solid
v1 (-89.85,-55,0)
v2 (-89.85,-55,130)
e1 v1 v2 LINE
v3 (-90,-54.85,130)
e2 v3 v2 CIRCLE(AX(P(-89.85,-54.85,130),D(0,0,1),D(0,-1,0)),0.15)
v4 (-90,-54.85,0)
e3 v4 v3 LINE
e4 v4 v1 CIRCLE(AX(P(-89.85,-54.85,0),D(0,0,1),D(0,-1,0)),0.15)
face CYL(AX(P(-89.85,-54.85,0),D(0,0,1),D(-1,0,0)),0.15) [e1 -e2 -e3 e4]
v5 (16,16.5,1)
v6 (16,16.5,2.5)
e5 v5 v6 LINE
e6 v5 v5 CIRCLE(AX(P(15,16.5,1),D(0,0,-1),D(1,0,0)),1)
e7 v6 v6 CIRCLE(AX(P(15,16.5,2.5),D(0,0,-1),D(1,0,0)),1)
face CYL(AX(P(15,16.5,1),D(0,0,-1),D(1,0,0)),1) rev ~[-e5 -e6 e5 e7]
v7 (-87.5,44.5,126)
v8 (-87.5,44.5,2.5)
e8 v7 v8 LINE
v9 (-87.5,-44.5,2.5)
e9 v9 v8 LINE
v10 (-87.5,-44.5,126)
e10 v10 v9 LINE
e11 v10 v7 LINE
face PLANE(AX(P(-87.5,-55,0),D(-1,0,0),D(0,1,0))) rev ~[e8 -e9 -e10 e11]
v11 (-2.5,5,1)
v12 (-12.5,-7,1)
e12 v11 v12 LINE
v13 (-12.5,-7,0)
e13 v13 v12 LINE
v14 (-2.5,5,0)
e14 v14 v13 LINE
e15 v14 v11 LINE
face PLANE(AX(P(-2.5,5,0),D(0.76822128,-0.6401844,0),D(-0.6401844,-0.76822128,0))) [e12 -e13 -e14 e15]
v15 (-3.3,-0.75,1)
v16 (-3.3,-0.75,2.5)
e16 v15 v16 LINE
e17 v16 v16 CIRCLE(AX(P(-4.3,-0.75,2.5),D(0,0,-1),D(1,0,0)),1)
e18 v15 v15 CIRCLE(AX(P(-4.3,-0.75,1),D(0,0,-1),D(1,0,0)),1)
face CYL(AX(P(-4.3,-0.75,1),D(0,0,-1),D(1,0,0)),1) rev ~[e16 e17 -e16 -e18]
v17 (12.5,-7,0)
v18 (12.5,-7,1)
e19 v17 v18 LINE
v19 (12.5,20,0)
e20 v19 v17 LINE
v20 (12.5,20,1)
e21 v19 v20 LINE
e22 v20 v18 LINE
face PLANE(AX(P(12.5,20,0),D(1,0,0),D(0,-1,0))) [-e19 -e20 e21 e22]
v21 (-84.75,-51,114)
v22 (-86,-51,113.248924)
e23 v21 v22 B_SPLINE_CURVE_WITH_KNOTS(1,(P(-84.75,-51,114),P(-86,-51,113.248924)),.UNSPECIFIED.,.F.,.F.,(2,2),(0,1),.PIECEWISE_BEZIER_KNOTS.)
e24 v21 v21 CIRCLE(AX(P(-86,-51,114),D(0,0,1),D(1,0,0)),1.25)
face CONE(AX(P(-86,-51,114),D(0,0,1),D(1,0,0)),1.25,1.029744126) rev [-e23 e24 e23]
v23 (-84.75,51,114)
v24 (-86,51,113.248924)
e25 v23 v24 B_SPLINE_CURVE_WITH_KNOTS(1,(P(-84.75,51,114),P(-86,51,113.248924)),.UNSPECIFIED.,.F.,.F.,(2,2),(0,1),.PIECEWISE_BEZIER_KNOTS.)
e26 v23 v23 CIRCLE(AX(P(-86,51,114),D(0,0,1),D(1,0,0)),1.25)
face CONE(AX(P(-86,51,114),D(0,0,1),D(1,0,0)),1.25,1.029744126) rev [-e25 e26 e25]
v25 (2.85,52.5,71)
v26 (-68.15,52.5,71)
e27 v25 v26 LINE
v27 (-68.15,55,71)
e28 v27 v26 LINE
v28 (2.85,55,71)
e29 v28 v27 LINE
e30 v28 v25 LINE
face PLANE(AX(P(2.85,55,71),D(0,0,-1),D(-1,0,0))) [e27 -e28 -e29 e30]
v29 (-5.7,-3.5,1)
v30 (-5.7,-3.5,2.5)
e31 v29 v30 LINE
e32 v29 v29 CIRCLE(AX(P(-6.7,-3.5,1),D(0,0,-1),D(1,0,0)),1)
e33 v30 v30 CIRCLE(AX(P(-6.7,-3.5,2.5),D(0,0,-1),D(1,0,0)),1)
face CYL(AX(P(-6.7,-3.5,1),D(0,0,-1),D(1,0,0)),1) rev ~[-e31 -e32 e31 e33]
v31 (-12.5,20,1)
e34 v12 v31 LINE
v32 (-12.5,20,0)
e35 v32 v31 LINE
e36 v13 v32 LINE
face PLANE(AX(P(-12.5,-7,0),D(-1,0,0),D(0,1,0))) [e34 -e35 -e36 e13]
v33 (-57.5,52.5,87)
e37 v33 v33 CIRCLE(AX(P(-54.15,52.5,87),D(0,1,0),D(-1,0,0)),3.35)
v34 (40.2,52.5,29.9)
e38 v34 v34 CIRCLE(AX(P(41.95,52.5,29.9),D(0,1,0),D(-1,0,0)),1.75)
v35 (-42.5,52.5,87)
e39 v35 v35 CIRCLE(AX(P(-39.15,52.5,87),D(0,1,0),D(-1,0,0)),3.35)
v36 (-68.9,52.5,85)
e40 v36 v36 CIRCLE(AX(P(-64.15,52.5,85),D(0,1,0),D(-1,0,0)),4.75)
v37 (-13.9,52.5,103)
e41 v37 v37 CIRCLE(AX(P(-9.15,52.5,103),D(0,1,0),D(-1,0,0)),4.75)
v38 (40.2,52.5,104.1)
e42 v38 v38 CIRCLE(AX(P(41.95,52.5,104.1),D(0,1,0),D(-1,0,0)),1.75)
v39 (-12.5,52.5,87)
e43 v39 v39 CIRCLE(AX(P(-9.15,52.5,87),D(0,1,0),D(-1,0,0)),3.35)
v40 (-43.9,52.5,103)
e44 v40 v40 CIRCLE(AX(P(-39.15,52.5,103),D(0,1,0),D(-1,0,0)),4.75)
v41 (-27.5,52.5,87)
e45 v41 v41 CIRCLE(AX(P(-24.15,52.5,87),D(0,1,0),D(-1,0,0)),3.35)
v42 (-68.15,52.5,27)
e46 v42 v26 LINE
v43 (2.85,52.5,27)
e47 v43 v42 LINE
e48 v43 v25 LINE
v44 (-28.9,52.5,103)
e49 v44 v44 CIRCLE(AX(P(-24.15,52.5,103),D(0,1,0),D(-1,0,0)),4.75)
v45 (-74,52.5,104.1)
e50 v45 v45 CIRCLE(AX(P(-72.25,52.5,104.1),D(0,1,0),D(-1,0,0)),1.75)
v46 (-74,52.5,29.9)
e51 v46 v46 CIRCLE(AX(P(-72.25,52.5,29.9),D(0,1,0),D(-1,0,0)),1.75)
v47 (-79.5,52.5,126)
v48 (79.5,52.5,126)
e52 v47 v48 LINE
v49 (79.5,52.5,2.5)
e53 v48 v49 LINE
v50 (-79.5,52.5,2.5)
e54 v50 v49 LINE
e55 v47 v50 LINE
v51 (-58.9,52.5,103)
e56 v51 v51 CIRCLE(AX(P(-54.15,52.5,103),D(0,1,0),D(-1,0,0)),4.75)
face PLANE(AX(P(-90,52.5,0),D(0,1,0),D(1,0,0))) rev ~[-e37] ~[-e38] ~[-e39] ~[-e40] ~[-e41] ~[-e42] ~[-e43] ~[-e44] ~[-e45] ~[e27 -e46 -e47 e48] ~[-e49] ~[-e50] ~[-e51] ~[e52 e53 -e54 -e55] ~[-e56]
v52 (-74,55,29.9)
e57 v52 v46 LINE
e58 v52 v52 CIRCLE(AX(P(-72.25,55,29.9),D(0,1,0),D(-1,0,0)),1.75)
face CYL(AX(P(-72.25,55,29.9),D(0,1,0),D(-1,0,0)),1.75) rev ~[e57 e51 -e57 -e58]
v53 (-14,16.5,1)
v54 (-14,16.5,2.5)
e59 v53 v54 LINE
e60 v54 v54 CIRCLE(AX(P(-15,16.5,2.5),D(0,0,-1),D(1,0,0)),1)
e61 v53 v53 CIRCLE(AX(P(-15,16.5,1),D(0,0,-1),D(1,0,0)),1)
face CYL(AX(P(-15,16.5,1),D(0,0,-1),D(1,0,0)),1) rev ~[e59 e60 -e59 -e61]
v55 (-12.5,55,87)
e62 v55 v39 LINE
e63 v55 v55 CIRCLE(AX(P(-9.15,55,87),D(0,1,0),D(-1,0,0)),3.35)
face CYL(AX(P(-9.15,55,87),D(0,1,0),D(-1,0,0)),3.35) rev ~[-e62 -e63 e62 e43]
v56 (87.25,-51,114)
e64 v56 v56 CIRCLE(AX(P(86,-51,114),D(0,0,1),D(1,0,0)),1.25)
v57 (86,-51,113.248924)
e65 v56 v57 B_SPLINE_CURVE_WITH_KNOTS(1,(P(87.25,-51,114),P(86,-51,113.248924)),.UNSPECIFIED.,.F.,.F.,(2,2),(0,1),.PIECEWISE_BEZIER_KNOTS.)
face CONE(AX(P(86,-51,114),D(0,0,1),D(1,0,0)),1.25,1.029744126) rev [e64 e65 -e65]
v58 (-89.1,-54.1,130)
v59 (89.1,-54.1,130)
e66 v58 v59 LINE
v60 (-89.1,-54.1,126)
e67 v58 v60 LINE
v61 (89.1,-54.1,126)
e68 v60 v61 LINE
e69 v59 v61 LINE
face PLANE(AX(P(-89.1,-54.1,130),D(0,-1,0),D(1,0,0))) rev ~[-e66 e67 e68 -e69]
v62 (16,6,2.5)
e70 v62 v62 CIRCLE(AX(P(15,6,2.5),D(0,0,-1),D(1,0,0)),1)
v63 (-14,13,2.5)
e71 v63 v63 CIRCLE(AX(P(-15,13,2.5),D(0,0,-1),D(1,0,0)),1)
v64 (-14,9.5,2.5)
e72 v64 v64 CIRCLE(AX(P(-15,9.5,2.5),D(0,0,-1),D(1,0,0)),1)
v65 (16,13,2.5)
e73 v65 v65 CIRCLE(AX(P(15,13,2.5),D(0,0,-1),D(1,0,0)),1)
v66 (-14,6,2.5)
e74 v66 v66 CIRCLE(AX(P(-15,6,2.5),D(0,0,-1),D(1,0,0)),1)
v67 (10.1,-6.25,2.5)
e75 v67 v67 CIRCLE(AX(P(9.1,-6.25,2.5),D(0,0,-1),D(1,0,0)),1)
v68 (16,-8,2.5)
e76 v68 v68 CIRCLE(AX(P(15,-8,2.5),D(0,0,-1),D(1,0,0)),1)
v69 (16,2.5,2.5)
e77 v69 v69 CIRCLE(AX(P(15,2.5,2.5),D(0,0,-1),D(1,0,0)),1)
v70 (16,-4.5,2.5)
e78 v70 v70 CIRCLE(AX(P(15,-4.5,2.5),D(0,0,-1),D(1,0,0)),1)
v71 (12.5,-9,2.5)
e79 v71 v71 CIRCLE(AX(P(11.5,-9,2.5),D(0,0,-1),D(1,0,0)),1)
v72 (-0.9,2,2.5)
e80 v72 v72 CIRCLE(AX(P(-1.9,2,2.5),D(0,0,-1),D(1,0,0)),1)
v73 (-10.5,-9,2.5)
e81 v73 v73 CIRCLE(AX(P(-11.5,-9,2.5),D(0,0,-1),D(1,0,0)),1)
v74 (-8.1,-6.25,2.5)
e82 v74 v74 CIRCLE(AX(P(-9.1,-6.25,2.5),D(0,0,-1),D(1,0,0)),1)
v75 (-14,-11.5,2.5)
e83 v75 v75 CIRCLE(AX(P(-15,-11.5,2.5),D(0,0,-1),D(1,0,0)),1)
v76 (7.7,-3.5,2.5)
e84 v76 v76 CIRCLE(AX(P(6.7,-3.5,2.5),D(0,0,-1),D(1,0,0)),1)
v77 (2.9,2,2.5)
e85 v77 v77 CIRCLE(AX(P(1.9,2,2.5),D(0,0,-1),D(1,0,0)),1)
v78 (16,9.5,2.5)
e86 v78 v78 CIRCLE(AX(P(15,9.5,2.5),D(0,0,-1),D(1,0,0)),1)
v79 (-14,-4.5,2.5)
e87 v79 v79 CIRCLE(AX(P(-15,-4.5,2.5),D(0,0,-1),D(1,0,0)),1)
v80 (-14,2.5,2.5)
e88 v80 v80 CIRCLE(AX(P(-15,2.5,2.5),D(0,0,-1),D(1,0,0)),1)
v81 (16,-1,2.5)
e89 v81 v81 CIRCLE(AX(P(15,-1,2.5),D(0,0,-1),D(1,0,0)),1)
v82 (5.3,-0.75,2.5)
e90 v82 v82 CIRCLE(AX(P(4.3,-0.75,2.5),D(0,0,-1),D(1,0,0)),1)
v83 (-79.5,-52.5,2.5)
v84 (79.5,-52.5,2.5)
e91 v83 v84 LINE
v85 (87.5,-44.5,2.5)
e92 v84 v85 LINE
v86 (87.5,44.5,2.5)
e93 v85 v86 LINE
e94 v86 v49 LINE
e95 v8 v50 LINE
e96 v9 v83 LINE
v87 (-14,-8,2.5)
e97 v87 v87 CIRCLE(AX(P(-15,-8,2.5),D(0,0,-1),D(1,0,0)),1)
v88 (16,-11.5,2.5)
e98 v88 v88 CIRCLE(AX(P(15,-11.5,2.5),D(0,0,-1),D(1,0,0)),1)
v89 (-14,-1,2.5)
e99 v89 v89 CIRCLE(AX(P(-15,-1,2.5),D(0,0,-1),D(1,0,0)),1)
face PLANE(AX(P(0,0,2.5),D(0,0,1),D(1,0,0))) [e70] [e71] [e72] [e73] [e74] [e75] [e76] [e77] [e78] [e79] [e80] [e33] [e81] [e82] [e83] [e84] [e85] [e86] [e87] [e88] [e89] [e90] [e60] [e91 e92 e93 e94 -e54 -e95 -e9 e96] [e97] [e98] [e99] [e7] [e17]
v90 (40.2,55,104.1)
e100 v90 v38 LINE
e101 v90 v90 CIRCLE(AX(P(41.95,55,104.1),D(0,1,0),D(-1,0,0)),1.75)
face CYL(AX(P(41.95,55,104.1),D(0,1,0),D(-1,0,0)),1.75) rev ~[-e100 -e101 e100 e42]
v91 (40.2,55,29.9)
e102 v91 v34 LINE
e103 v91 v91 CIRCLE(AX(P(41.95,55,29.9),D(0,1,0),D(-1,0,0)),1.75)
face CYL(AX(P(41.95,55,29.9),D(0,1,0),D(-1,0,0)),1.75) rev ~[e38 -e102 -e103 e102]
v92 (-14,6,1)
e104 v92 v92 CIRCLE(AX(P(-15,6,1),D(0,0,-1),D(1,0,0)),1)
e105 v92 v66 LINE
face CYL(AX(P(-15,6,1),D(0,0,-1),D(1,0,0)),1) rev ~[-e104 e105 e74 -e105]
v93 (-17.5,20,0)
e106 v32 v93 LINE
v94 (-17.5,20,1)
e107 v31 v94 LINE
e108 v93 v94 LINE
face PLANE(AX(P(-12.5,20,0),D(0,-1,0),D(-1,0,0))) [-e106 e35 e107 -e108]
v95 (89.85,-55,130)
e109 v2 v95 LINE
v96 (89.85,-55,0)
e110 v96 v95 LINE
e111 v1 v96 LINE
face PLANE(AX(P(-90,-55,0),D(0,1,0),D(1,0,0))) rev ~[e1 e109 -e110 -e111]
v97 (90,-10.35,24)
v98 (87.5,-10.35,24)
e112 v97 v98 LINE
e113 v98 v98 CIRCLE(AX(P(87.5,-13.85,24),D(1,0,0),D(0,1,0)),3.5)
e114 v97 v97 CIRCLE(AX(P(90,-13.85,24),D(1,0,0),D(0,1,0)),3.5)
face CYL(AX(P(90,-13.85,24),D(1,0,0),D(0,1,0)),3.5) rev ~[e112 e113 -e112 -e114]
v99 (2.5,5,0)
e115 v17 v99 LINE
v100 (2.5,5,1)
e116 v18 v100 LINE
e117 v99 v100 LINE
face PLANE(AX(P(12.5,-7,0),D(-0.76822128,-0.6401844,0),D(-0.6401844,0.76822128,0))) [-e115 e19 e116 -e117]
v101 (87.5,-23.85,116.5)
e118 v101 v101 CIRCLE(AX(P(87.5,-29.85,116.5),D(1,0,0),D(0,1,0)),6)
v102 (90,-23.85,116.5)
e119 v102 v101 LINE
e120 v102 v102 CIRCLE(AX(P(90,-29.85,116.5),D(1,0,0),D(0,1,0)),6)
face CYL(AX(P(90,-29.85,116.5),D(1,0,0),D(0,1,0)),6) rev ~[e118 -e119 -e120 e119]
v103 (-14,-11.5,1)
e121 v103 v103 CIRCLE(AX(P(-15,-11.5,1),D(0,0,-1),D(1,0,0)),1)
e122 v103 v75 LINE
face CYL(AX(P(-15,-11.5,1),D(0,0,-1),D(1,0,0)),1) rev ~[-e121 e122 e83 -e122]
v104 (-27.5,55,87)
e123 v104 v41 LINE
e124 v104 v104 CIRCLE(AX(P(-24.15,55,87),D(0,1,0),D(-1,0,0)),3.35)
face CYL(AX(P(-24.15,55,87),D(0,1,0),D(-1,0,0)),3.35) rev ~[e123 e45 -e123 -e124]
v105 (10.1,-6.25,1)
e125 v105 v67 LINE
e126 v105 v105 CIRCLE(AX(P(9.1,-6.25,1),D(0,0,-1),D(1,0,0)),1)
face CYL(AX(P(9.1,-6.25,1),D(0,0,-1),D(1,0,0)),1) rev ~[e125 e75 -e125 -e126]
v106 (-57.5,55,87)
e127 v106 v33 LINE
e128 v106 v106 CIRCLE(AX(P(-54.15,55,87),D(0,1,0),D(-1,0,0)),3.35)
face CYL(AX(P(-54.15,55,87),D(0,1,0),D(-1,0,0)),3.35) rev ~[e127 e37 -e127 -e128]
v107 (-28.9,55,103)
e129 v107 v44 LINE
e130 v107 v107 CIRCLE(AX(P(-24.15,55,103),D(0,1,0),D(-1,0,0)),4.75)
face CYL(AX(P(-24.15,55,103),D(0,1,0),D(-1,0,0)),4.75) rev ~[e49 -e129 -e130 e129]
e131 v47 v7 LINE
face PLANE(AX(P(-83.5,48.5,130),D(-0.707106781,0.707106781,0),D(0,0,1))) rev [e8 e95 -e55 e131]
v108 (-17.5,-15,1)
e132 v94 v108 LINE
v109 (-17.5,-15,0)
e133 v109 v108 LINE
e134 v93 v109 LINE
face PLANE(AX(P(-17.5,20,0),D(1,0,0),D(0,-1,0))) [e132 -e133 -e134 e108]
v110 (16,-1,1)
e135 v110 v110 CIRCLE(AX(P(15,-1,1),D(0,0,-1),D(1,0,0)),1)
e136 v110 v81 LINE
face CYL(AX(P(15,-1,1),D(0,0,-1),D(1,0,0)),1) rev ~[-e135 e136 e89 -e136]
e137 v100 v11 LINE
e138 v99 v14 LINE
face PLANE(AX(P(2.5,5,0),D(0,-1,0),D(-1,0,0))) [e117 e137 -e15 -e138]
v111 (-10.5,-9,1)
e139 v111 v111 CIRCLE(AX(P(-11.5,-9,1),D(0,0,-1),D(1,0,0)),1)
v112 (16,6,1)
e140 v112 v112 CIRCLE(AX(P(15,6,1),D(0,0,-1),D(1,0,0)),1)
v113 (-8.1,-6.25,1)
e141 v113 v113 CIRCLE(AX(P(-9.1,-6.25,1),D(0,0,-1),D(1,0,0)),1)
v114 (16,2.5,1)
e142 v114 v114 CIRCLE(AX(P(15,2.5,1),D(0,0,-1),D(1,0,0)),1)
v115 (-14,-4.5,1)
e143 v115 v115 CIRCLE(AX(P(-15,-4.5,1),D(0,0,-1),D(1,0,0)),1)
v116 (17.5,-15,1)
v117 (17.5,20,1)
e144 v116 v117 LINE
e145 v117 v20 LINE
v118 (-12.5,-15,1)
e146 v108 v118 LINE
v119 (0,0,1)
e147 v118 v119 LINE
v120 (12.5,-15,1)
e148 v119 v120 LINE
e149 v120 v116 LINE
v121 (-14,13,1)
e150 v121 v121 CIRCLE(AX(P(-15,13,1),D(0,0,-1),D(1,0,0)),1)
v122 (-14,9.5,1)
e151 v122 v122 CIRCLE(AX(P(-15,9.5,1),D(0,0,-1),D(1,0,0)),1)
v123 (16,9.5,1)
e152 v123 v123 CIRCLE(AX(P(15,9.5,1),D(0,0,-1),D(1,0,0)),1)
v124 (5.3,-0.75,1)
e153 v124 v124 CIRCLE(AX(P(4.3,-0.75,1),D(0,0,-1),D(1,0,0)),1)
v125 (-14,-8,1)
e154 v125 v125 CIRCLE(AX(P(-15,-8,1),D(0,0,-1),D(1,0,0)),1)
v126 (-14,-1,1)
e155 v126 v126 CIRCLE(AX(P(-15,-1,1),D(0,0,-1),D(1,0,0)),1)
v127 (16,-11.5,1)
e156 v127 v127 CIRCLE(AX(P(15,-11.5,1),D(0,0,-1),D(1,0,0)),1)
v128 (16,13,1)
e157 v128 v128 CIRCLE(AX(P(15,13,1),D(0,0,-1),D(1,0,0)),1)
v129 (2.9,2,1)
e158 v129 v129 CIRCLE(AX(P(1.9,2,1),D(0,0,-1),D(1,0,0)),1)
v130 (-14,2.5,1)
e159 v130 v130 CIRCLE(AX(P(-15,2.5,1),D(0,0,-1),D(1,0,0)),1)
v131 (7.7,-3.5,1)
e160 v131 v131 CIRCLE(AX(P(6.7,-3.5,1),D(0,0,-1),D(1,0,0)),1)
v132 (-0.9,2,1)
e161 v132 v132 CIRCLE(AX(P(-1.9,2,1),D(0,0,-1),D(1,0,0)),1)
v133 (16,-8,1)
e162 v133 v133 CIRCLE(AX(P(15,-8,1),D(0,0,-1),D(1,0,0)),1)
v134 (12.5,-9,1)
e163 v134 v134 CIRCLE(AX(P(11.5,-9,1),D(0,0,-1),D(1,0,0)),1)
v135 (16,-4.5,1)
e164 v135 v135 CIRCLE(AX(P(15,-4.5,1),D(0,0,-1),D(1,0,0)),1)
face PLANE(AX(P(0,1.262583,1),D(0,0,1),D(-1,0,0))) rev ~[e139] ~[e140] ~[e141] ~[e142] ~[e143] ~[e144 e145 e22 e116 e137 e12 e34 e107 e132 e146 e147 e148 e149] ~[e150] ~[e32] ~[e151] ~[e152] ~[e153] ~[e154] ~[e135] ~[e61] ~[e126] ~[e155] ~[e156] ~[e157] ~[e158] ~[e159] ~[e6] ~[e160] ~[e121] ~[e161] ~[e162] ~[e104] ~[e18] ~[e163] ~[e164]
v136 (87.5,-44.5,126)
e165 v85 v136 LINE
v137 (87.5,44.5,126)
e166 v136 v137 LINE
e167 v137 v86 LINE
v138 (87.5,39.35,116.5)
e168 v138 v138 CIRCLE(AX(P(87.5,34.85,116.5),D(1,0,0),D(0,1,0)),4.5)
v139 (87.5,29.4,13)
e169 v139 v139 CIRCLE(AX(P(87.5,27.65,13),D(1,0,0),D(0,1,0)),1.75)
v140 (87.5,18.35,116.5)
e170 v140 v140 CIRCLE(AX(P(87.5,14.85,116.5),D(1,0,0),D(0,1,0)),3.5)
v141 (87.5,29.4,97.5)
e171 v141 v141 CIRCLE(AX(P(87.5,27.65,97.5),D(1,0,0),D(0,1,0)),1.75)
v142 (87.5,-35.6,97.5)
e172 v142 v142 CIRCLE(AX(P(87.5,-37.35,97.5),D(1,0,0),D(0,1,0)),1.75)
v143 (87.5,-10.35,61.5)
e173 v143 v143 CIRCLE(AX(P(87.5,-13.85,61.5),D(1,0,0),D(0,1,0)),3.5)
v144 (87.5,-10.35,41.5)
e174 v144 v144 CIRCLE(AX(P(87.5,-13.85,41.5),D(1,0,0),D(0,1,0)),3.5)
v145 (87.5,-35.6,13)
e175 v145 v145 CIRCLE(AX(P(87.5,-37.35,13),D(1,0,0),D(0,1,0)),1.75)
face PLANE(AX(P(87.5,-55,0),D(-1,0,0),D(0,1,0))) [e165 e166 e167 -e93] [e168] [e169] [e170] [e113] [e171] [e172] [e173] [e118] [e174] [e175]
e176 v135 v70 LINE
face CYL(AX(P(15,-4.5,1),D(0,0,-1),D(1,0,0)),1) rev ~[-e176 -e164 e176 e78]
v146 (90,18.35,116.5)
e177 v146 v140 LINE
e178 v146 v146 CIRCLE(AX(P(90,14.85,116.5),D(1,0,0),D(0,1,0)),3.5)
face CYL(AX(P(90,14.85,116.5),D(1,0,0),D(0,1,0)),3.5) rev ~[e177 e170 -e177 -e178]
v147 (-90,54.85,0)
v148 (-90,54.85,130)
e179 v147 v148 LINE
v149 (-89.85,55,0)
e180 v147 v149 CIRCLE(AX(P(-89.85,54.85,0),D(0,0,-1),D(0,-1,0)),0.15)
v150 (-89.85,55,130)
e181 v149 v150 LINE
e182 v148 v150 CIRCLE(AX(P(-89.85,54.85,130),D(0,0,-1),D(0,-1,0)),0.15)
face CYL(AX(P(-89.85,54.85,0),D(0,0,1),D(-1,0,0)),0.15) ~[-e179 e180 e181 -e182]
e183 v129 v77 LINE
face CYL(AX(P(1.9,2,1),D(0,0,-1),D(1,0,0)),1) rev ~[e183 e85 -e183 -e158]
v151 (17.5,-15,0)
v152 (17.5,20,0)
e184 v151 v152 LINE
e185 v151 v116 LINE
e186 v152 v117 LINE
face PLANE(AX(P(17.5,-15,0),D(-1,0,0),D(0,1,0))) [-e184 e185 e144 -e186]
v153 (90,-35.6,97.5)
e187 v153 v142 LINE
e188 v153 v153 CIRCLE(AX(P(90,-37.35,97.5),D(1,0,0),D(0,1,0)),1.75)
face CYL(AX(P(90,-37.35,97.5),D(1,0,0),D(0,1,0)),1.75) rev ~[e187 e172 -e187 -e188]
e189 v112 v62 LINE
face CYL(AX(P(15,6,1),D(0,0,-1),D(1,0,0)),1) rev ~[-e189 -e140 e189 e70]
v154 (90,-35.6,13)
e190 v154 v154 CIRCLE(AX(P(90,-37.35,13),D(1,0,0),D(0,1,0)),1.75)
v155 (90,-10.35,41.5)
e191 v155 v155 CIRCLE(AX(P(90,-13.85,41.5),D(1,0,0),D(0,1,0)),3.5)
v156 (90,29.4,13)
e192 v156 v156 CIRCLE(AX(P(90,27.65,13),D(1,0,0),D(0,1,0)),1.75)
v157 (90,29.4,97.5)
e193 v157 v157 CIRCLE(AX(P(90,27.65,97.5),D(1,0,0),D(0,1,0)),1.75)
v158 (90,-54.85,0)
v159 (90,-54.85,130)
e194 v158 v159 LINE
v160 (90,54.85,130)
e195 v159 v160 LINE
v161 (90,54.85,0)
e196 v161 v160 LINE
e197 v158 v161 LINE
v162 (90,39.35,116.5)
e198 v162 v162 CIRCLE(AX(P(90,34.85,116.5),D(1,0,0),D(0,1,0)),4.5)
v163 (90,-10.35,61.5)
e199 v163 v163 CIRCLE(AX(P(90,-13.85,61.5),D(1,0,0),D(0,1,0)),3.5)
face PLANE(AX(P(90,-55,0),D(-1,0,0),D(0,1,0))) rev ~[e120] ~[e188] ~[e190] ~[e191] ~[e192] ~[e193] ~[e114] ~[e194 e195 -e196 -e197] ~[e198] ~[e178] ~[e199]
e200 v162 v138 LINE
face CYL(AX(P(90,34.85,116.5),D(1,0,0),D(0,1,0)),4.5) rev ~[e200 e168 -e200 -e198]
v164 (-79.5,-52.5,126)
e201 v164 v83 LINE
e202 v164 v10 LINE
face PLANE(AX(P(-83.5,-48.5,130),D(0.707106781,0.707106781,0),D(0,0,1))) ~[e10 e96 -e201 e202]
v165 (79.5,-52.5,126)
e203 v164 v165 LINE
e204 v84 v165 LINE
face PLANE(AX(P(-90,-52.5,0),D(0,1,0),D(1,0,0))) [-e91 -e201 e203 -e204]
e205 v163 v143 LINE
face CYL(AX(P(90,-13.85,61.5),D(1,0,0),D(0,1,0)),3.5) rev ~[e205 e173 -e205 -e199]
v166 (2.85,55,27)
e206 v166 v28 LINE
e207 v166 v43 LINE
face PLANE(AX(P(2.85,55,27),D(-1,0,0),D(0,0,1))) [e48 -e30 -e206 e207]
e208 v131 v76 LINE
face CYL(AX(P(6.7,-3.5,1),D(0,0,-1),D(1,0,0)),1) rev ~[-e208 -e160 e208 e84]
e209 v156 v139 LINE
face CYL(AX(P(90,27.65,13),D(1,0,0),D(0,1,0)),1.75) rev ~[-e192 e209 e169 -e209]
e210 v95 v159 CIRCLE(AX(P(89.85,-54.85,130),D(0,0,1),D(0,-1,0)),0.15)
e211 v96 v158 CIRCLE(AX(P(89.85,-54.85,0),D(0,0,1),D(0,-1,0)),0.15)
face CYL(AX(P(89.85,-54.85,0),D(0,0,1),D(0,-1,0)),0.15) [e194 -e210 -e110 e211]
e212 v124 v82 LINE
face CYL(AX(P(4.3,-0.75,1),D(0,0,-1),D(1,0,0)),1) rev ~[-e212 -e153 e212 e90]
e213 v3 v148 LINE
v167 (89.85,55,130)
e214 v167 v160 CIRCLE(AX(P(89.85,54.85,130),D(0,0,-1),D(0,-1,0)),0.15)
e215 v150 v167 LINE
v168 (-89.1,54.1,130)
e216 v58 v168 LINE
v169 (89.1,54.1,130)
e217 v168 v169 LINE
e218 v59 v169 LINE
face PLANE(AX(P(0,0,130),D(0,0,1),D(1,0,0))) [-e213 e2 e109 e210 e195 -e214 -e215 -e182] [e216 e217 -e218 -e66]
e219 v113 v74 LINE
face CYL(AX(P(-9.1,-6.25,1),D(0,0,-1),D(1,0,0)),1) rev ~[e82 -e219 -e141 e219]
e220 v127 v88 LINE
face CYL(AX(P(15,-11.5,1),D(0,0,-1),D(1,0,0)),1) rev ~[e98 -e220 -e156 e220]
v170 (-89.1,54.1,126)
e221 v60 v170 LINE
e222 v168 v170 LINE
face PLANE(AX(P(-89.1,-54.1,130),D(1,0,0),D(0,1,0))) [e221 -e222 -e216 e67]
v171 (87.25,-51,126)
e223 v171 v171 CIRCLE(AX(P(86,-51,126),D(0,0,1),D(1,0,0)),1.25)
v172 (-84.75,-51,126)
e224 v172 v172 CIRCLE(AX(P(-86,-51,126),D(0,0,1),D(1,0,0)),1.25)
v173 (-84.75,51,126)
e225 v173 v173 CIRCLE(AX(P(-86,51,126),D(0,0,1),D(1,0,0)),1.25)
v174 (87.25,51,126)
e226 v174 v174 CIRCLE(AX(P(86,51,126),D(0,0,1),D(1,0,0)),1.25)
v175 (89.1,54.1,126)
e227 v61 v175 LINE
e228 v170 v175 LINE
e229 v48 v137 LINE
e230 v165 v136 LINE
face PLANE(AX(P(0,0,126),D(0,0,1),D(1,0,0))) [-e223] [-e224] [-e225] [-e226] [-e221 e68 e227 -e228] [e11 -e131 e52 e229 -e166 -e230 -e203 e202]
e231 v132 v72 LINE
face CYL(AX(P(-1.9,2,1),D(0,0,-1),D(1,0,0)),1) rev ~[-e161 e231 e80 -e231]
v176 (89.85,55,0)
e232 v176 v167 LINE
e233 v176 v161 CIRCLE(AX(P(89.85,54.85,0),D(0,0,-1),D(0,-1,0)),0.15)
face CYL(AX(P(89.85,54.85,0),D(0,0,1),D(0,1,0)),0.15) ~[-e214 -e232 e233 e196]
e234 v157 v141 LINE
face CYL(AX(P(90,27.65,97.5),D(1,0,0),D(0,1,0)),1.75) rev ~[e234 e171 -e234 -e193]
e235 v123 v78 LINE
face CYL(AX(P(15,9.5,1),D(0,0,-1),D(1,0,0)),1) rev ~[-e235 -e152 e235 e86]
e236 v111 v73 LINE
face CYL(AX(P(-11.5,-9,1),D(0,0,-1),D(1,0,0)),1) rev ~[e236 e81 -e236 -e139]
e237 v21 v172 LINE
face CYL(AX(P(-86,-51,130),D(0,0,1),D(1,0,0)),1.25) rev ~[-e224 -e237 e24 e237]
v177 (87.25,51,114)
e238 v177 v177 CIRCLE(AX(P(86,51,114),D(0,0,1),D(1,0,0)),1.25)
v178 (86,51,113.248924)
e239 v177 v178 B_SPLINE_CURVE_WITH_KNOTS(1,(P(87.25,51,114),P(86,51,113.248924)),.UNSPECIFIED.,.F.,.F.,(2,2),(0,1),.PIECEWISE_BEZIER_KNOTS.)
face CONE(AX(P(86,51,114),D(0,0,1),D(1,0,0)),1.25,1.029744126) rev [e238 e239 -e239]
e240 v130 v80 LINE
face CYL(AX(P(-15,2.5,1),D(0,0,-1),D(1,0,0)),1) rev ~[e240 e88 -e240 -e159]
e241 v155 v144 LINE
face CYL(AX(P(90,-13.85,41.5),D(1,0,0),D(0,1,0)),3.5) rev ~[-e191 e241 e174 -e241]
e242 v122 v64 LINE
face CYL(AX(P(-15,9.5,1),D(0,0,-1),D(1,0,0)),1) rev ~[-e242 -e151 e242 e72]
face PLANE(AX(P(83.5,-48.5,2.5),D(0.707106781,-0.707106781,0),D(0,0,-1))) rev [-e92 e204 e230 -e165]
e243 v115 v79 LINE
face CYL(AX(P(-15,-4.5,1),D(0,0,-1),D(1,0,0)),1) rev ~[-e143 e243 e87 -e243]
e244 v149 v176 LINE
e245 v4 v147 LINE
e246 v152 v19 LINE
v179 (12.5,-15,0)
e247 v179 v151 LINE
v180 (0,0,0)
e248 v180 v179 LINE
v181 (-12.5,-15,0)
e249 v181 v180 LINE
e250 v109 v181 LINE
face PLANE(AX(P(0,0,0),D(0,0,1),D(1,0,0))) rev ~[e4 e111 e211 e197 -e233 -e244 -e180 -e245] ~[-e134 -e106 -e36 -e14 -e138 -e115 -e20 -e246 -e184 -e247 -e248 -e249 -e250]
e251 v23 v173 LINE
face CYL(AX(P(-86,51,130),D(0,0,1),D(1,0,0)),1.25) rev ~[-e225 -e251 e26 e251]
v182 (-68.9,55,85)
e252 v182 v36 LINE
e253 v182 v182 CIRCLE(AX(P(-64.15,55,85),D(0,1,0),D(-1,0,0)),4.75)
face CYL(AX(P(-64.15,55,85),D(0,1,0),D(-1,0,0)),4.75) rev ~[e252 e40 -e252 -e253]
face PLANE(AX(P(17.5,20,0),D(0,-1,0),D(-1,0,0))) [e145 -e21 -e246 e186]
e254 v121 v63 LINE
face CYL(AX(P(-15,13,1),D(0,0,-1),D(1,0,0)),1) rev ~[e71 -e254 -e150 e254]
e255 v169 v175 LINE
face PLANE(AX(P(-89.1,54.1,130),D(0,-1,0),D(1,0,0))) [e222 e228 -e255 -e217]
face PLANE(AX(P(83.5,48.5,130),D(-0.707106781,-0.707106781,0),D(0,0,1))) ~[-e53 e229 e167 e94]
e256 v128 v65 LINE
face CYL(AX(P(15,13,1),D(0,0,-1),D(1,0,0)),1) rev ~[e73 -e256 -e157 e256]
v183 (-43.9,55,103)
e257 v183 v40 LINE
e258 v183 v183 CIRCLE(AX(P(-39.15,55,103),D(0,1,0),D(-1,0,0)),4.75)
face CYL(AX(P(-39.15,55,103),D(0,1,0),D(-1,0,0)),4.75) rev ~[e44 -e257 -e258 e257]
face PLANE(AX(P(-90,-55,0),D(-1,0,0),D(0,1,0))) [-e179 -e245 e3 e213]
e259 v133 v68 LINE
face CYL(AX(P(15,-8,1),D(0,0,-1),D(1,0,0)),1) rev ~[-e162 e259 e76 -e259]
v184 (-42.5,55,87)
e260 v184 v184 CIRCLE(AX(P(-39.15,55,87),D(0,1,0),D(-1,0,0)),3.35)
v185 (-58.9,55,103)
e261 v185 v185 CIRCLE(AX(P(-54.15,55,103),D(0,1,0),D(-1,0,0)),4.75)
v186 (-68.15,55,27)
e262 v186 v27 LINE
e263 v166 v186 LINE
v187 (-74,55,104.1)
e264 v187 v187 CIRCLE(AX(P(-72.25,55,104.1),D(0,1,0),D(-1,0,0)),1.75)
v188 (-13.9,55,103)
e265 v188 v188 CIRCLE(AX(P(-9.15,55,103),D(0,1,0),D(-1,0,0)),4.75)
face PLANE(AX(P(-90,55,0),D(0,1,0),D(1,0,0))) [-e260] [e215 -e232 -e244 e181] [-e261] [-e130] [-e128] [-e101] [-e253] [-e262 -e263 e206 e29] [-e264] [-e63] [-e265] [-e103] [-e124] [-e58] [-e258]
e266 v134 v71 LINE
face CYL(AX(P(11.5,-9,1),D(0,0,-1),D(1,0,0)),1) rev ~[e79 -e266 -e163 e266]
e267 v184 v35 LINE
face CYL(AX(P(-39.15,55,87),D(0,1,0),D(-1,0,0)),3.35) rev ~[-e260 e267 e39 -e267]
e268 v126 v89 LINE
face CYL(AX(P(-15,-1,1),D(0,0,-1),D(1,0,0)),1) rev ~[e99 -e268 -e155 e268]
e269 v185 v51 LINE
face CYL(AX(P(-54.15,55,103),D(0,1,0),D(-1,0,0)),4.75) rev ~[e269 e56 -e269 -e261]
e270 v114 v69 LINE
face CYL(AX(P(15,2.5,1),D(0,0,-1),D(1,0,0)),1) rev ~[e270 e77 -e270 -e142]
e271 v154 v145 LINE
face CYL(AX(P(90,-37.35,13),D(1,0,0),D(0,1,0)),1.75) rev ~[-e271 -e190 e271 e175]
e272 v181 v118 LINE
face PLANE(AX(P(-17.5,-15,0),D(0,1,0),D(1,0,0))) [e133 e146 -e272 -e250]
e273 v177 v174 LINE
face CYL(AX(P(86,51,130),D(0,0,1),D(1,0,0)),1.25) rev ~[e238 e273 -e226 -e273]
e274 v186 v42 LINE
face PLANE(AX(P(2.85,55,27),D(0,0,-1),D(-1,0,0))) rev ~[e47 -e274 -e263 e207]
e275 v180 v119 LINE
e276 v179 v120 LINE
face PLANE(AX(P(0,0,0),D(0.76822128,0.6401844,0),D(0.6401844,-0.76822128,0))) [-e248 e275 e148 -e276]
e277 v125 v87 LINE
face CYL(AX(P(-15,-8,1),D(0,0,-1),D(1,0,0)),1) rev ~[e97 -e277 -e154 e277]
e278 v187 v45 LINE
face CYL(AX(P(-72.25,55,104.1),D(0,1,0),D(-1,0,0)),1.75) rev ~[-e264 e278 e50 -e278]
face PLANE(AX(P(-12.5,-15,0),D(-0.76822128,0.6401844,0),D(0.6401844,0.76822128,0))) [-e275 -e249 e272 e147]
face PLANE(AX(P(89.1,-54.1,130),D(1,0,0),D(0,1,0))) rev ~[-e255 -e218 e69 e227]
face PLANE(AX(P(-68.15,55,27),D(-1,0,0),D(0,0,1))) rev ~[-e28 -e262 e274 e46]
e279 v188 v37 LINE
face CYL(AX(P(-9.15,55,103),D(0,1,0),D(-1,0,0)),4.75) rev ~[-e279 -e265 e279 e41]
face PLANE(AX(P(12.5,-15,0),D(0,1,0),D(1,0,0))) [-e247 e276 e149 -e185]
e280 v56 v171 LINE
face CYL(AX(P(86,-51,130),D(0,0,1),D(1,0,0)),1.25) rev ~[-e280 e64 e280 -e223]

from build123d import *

# Parameters (mm, degrees)
SKETCH_W        = 180
SKETCH_H        = 110
PAD_DEPTH       = 130
THICKNESS_T     = -2.5
CHAMFER_SIZE    = 8
SKETCH001_R     = 1.25
HOLE001_DEPTH   = 16
HOLE001_TIPS_R  = 1.25
HOLE_DEPTH      = 15
HOLE_TIPS_R     = 1.25
SKETCH002_W     = 178.2
SKETCH002_H     = 108.2
POCKET_DEPTH    = 4
FILLET_R        = 0.15
POCKET001_DEPTH = 1
SKETCH004_R     = 1
POCKET002_DEPTH = 3
SKETCH005_R     = 4.5
SKETCH005_R_2   = 3.5
SKETCH005_R_3   = 6
POCKET003_DEPTH = 5
SKETCH007_R     = 1.75
SKETCH007_R_2   = 3.5
POCKET004_DEPTH = 5
SKETCH009_R     = 1.75
SKETCH009_R_2   = 4.75
SKETCH009_R_3   = 3.35
SKETCH009_W     = 71
SKETCH009_H     = 44
POCKET005_DEPTH = 5


with BuildPart() as part:
    # Sketch → Pad (new body)
    with BuildSketch(Plane.XY):
        Rectangle(SKETCH_W, SKETCH_H)
    extrude(amount=PAD_DEPTH)

    # Thickness
    thickness_openings = [part.faces().sort_by_distance(p)[0] for p in [
        (0, 0, 130),
    ]]
    offset(amount=THICKNESS_T, openings=thickness_openings, kind=Kind.INTERSECTION)

    # Chamfer
    chamfer_edges = [part.edges().sort_by_distance(p)[0] for p in [
        (-87.5, 52.5, 66.25),
        (-87.5, -52.5, 66.25),
        (87.5, 52.5, 66.25),
        (87.5, -52.5, 66.25),
    ]]
    chamfer(chamfer_edges, length=CHAMFER_SIZE)

    # Sketch001 (on Face1 of Chamfer) → Hole001 (cut)
    with BuildSketch(Plane.XY.offset(130)):
        with Locations((-86, 51)):
            Circle(SKETCH001_R)
        with Locations((86, 51)):
            Circle(SKETCH001_R)
        with Locations((86, -51)):
            Circle(SKETCH001_R)
        with Locations((-86, -51)):
            Circle(SKETCH001_R)
    extrude(amount=-HOLE001_DEPTH, mode=Mode.SUBTRACT)

    # Hole001 tips → Hole001 tip 1 section 0
    with BuildSketch(Plane.XY.offset(114), mode=Mode.PRIVATE) as hole001_tip_1_s0:
        with Locations((-86, 51)):
            Circle(HOLE001_TIPS_R)
    loft([hole001_tip_1_s0.sketch, Vertex(-86, 51, 113.248924)], mode=Mode.SUBTRACT)

    # Hole001 tips → Hole001 tip 2 section 0
    with BuildSketch(Plane.XY.offset(114), mode=Mode.PRIVATE) as hole001_tip_2_s0:
        with Locations((86, 51)):
            Circle(HOLE001_TIPS_R)
    loft([hole001_tip_2_s0.sketch, Vertex(86, 51, 113.248924)], mode=Mode.SUBTRACT)

    # Hole001 tips → Hole001 tip 3 section 0
    with BuildSketch(Plane.XY.offset(114), mode=Mode.PRIVATE) as hole001_tip_3_s0:
        with Locations((86, -51)):
            Circle(HOLE001_TIPS_R)
    loft([hole001_tip_3_s0.sketch, Vertex(86, -51, 113.248924)], mode=Mode.SUBTRACT)

    # Hole001 tips → Hole001 tip 4 section 0
    with BuildSketch(Plane.XY.offset(114), mode=Mode.PRIVATE) as hole001_tip_4_s0:
        with Locations((-86, -51)):
            Circle(HOLE001_TIPS_R)
    loft([hole001_tip_4_s0.sketch, Vertex(-86, -51, 113.248924)], mode=Mode.SUBTRACT)

    # Sketch001 (on Face1 of Chamfer) → Hole (cut)
    with BuildSketch(Plane.XY.offset(130)):
        with Locations((-86, 51)):
            Circle(SKETCH001_R)
        with Locations((86, 51)):
            Circle(SKETCH001_R)
        with Locations((86, -51)):
            Circle(SKETCH001_R)
        with Locations((-86, -51)):
            Circle(SKETCH001_R)
    extrude(amount=-HOLE_DEPTH, mode=Mode.SUBTRACT)

    # Hole tips → Hole tip 1 section 0
    with BuildSketch(Plane.XY.offset(115), mode=Mode.PRIVATE) as hole_tip_1_s0:
        with Locations((-86, 51)):
            Circle(HOLE_TIPS_R)
    loft([hole_tip_1_s0.sketch, Vertex(-86, 51, 114.248924)], mode=Mode.SUBTRACT)

    # Hole tips → Hole tip 2 section 0
    with BuildSketch(Plane.XY.offset(115), mode=Mode.PRIVATE) as hole_tip_2_s0:
        with Locations((86, 51)):
            Circle(HOLE_TIPS_R)
    loft([hole_tip_2_s0.sketch, Vertex(86, 51, 114.248924)], mode=Mode.SUBTRACT)

    # Hole tips → Hole tip 3 section 0
    with BuildSketch(Plane.XY.offset(115), mode=Mode.PRIVATE) as hole_tip_3_s0:
        with Locations((86, -51)):
            Circle(HOLE_TIPS_R)
    loft([hole_tip_3_s0.sketch, Vertex(86, -51, 114.248924)], mode=Mode.SUBTRACT)

    # Hole tips → Hole tip 4 section 0
    with BuildSketch(Plane.XY.offset(115), mode=Mode.PRIVATE) as hole_tip_4_s0:
        with Locations((-86, -51)):
            Circle(HOLE_TIPS_R)
    loft([hole_tip_4_s0.sketch, Vertex(-86, -51, 114.248924)], mode=Mode.SUBTRACT)

    # Sketch002 (on Face9 of Hole) → Pocket (cut)
    with BuildSketch(Plane.XY.offset(130)):
        Rectangle(SKETCH002_W, SKETCH002_H)
    extrude(amount=-POCKET_DEPTH, mode=Mode.SUBTRACT)

    # Fillet
    fillet_edges = [part.edges().sort_by_distance(p)[0] for p in [
        (90, -55, 65),
        (90, 55, 65),
        (-90, -55, 65),
        (-90, 55, 65),
    ]]
    fillet(fillet_edges, radius=FILLET_R)

    # Sketch003 (on Face14 of Fillet) → Pocket001 (cut)
    with BuildSketch(Plane(origin=(0, 0, 0), x_dir=(1, 0, 0), z_dir=(0, 0, -1))):
        Polygon((0, 0), (12.5, 15), (17.5, 15), (17.5, -20), (12.5, -20), (12.5, 7), (2.5, -5), (-2.5, -5), (-12.5, 7), (-12.5, -20), (-17.5, -20), (-17.5, 15), (-12.5, 15), align=None)
    extrude(amount=-POCKET001_DEPTH, mode=Mode.SUBTRACT)

    # Sketch004 (on Face41 of Pocket001) → Pocket002 (cut)
    with BuildSketch(Plane(origin=(0, 0, 1), x_dir=(1, 0, 0), z_dir=(0, 0, -1))):
        with Locations((-15, 11.5)):
            Circle(SKETCH004_R)
        with Locations((-11.5, 9)):
            Circle(SKETCH004_R)
        with Locations((-9.1, 6.25)):
            Circle(SKETCH004_R)
        with Locations((-15, 8)):
            Circle(SKETCH004_R)
        with Locations((-15, 4.5)):
            Circle(SKETCH004_R)
        with Locations((-15, 1)):
            Circle(SKETCH004_R)
        with Locations((-15, -2.5)):
            Circle(SKETCH004_R)
        with Locations((-15, -6)):
            Circle(SKETCH004_R)
        with Locations((-15, -9.5)):
            Circle(SKETCH004_R)
        with Locations((-15, -13)):
            Circle(SKETCH004_R)
        with Locations((-15, -16.5)):
            Circle(SKETCH004_R)
        with Locations((-6.7, 3.5)):
            Circle(SKETCH004_R)
        with Locations((-4.3, 0.75)):
            Circle(SKETCH004_R)
        with Locations((-1.9, -2)):
            Circle(SKETCH004_R)
        with Locations((1.9, -2)):
            Circle(SKETCH004_R)
        with Locations((4.3, 0.75)):
            Circle(SKETCH004_R)
        with Locations((6.7, 3.5)):
            Circle(SKETCH004_R)
        with Locations((11.5, 9)):
            Circle(SKETCH004_R)
        with Locations((15, 11.5)):
            Circle(SKETCH004_R)
        with Locations((9.1, 6.25)):
            Circle(SKETCH004_R)
        with Locations((15, 8)):
            Circle(SKETCH004_R)
        with Locations((15, 4.5)):
            Circle(SKETCH004_R)
        with Locations((15, 1)):
            Circle(SKETCH004_R)
        with Locations((15, -2.5)):
            Circle(SKETCH004_R)
        with Locations((15, -6)):
            Circle(SKETCH004_R)
        with Locations((15, -9.5)):
            Circle(SKETCH004_R)
        with Locations((15, -16.5)):
            Circle(SKETCH004_R)
        with Locations((15, -13)):
            Circle(SKETCH004_R)
    extrude(amount=-POCKET002_DEPTH, mode=Mode.SUBTRACT)

    # Sketch005 (on Face6 of Pocket002) → Pocket003 (cut)
    with BuildSketch(Plane.YZ.offset(90)):
        with Locations((34.85, 116.5)):
            Circle(SKETCH005_R)
        with Locations((14.85, 116.5)):
            Circle(SKETCH005_R_2)
        with Locations((-29.85, 116.5)):
            Circle(SKETCH005_R_3)
    extrude(amount=-POCKET003_DEPTH, mode=Mode.SUBTRACT)

    # Sketch007 (on Face6 of Pocket003) → Pocket004 (cut)
    with BuildSketch(Plane.YZ.offset(90)):
        with Locations((27.65, 13)):
            Circle(SKETCH007_R)
        with Locations((27.65, 97.5)):
            Circle(SKETCH007_R)
        with Locations((-37.35, 97.5)):
            Circle(SKETCH007_R)
        with Locations((-37.35, 13)):
            Circle(SKETCH007_R)
        with Locations((-13.85, 24)):
            Circle(SKETCH007_R_2)
        with Locations((-13.85, 41.5)):
            Circle(SKETCH007_R_2)
        with Locations((-13.85, 61.5)):
            Circle(SKETCH007_R_2)
    extrude(amount=-POCKET004_DEPTH, mode=Mode.SUBTRACT)

    # Sketch009 (on Face2 of Pocket004) → Pocket005 (cut)
    with BuildSketch(Plane(origin=(0, 55, 0), x_dir=(-1, 0, 0), z_dir=(0, 1, 0))):
        with Locations((72.25, 29.9)):
            Circle(SKETCH009_R)
        with Locations((-41.95, 29.9)):
            Circle(SKETCH009_R)
        with Locations((-41.95, 104.1)):
            Circle(SKETCH009_R)
        with Locations((72.25, 104.1)):
            Circle(SKETCH009_R)
        with Locations((54.15, 103)):
            Circle(SKETCH009_R_2)
        with Locations((39.15, 103)):
            Circle(SKETCH009_R_2)
        with Locations((24.15, 103)):
            Circle(SKETCH009_R_2)
        with Locations((9.15, 103)):
            Circle(SKETCH009_R_2)
        with Locations((54.15, 87)):
            Circle(SKETCH009_R_3)
        with Locations((39.15, 87)):
            Circle(SKETCH009_R_3)
        with Locations((24.15, 87)):
            Circle(SKETCH009_R_3)
        with Locations((9.15, 87)):
            Circle(SKETCH009_R_3)
        with Locations((64.15, 85)):
            Circle(SKETCH009_R_2)
        with Locations((32.65, 49)):
            Rectangle(SKETCH009_W, SKETCH009_H)
    extrude(amount=-POCKET005_DEPTH, mode=Mode.SUBTRACT)


solid = part.part
